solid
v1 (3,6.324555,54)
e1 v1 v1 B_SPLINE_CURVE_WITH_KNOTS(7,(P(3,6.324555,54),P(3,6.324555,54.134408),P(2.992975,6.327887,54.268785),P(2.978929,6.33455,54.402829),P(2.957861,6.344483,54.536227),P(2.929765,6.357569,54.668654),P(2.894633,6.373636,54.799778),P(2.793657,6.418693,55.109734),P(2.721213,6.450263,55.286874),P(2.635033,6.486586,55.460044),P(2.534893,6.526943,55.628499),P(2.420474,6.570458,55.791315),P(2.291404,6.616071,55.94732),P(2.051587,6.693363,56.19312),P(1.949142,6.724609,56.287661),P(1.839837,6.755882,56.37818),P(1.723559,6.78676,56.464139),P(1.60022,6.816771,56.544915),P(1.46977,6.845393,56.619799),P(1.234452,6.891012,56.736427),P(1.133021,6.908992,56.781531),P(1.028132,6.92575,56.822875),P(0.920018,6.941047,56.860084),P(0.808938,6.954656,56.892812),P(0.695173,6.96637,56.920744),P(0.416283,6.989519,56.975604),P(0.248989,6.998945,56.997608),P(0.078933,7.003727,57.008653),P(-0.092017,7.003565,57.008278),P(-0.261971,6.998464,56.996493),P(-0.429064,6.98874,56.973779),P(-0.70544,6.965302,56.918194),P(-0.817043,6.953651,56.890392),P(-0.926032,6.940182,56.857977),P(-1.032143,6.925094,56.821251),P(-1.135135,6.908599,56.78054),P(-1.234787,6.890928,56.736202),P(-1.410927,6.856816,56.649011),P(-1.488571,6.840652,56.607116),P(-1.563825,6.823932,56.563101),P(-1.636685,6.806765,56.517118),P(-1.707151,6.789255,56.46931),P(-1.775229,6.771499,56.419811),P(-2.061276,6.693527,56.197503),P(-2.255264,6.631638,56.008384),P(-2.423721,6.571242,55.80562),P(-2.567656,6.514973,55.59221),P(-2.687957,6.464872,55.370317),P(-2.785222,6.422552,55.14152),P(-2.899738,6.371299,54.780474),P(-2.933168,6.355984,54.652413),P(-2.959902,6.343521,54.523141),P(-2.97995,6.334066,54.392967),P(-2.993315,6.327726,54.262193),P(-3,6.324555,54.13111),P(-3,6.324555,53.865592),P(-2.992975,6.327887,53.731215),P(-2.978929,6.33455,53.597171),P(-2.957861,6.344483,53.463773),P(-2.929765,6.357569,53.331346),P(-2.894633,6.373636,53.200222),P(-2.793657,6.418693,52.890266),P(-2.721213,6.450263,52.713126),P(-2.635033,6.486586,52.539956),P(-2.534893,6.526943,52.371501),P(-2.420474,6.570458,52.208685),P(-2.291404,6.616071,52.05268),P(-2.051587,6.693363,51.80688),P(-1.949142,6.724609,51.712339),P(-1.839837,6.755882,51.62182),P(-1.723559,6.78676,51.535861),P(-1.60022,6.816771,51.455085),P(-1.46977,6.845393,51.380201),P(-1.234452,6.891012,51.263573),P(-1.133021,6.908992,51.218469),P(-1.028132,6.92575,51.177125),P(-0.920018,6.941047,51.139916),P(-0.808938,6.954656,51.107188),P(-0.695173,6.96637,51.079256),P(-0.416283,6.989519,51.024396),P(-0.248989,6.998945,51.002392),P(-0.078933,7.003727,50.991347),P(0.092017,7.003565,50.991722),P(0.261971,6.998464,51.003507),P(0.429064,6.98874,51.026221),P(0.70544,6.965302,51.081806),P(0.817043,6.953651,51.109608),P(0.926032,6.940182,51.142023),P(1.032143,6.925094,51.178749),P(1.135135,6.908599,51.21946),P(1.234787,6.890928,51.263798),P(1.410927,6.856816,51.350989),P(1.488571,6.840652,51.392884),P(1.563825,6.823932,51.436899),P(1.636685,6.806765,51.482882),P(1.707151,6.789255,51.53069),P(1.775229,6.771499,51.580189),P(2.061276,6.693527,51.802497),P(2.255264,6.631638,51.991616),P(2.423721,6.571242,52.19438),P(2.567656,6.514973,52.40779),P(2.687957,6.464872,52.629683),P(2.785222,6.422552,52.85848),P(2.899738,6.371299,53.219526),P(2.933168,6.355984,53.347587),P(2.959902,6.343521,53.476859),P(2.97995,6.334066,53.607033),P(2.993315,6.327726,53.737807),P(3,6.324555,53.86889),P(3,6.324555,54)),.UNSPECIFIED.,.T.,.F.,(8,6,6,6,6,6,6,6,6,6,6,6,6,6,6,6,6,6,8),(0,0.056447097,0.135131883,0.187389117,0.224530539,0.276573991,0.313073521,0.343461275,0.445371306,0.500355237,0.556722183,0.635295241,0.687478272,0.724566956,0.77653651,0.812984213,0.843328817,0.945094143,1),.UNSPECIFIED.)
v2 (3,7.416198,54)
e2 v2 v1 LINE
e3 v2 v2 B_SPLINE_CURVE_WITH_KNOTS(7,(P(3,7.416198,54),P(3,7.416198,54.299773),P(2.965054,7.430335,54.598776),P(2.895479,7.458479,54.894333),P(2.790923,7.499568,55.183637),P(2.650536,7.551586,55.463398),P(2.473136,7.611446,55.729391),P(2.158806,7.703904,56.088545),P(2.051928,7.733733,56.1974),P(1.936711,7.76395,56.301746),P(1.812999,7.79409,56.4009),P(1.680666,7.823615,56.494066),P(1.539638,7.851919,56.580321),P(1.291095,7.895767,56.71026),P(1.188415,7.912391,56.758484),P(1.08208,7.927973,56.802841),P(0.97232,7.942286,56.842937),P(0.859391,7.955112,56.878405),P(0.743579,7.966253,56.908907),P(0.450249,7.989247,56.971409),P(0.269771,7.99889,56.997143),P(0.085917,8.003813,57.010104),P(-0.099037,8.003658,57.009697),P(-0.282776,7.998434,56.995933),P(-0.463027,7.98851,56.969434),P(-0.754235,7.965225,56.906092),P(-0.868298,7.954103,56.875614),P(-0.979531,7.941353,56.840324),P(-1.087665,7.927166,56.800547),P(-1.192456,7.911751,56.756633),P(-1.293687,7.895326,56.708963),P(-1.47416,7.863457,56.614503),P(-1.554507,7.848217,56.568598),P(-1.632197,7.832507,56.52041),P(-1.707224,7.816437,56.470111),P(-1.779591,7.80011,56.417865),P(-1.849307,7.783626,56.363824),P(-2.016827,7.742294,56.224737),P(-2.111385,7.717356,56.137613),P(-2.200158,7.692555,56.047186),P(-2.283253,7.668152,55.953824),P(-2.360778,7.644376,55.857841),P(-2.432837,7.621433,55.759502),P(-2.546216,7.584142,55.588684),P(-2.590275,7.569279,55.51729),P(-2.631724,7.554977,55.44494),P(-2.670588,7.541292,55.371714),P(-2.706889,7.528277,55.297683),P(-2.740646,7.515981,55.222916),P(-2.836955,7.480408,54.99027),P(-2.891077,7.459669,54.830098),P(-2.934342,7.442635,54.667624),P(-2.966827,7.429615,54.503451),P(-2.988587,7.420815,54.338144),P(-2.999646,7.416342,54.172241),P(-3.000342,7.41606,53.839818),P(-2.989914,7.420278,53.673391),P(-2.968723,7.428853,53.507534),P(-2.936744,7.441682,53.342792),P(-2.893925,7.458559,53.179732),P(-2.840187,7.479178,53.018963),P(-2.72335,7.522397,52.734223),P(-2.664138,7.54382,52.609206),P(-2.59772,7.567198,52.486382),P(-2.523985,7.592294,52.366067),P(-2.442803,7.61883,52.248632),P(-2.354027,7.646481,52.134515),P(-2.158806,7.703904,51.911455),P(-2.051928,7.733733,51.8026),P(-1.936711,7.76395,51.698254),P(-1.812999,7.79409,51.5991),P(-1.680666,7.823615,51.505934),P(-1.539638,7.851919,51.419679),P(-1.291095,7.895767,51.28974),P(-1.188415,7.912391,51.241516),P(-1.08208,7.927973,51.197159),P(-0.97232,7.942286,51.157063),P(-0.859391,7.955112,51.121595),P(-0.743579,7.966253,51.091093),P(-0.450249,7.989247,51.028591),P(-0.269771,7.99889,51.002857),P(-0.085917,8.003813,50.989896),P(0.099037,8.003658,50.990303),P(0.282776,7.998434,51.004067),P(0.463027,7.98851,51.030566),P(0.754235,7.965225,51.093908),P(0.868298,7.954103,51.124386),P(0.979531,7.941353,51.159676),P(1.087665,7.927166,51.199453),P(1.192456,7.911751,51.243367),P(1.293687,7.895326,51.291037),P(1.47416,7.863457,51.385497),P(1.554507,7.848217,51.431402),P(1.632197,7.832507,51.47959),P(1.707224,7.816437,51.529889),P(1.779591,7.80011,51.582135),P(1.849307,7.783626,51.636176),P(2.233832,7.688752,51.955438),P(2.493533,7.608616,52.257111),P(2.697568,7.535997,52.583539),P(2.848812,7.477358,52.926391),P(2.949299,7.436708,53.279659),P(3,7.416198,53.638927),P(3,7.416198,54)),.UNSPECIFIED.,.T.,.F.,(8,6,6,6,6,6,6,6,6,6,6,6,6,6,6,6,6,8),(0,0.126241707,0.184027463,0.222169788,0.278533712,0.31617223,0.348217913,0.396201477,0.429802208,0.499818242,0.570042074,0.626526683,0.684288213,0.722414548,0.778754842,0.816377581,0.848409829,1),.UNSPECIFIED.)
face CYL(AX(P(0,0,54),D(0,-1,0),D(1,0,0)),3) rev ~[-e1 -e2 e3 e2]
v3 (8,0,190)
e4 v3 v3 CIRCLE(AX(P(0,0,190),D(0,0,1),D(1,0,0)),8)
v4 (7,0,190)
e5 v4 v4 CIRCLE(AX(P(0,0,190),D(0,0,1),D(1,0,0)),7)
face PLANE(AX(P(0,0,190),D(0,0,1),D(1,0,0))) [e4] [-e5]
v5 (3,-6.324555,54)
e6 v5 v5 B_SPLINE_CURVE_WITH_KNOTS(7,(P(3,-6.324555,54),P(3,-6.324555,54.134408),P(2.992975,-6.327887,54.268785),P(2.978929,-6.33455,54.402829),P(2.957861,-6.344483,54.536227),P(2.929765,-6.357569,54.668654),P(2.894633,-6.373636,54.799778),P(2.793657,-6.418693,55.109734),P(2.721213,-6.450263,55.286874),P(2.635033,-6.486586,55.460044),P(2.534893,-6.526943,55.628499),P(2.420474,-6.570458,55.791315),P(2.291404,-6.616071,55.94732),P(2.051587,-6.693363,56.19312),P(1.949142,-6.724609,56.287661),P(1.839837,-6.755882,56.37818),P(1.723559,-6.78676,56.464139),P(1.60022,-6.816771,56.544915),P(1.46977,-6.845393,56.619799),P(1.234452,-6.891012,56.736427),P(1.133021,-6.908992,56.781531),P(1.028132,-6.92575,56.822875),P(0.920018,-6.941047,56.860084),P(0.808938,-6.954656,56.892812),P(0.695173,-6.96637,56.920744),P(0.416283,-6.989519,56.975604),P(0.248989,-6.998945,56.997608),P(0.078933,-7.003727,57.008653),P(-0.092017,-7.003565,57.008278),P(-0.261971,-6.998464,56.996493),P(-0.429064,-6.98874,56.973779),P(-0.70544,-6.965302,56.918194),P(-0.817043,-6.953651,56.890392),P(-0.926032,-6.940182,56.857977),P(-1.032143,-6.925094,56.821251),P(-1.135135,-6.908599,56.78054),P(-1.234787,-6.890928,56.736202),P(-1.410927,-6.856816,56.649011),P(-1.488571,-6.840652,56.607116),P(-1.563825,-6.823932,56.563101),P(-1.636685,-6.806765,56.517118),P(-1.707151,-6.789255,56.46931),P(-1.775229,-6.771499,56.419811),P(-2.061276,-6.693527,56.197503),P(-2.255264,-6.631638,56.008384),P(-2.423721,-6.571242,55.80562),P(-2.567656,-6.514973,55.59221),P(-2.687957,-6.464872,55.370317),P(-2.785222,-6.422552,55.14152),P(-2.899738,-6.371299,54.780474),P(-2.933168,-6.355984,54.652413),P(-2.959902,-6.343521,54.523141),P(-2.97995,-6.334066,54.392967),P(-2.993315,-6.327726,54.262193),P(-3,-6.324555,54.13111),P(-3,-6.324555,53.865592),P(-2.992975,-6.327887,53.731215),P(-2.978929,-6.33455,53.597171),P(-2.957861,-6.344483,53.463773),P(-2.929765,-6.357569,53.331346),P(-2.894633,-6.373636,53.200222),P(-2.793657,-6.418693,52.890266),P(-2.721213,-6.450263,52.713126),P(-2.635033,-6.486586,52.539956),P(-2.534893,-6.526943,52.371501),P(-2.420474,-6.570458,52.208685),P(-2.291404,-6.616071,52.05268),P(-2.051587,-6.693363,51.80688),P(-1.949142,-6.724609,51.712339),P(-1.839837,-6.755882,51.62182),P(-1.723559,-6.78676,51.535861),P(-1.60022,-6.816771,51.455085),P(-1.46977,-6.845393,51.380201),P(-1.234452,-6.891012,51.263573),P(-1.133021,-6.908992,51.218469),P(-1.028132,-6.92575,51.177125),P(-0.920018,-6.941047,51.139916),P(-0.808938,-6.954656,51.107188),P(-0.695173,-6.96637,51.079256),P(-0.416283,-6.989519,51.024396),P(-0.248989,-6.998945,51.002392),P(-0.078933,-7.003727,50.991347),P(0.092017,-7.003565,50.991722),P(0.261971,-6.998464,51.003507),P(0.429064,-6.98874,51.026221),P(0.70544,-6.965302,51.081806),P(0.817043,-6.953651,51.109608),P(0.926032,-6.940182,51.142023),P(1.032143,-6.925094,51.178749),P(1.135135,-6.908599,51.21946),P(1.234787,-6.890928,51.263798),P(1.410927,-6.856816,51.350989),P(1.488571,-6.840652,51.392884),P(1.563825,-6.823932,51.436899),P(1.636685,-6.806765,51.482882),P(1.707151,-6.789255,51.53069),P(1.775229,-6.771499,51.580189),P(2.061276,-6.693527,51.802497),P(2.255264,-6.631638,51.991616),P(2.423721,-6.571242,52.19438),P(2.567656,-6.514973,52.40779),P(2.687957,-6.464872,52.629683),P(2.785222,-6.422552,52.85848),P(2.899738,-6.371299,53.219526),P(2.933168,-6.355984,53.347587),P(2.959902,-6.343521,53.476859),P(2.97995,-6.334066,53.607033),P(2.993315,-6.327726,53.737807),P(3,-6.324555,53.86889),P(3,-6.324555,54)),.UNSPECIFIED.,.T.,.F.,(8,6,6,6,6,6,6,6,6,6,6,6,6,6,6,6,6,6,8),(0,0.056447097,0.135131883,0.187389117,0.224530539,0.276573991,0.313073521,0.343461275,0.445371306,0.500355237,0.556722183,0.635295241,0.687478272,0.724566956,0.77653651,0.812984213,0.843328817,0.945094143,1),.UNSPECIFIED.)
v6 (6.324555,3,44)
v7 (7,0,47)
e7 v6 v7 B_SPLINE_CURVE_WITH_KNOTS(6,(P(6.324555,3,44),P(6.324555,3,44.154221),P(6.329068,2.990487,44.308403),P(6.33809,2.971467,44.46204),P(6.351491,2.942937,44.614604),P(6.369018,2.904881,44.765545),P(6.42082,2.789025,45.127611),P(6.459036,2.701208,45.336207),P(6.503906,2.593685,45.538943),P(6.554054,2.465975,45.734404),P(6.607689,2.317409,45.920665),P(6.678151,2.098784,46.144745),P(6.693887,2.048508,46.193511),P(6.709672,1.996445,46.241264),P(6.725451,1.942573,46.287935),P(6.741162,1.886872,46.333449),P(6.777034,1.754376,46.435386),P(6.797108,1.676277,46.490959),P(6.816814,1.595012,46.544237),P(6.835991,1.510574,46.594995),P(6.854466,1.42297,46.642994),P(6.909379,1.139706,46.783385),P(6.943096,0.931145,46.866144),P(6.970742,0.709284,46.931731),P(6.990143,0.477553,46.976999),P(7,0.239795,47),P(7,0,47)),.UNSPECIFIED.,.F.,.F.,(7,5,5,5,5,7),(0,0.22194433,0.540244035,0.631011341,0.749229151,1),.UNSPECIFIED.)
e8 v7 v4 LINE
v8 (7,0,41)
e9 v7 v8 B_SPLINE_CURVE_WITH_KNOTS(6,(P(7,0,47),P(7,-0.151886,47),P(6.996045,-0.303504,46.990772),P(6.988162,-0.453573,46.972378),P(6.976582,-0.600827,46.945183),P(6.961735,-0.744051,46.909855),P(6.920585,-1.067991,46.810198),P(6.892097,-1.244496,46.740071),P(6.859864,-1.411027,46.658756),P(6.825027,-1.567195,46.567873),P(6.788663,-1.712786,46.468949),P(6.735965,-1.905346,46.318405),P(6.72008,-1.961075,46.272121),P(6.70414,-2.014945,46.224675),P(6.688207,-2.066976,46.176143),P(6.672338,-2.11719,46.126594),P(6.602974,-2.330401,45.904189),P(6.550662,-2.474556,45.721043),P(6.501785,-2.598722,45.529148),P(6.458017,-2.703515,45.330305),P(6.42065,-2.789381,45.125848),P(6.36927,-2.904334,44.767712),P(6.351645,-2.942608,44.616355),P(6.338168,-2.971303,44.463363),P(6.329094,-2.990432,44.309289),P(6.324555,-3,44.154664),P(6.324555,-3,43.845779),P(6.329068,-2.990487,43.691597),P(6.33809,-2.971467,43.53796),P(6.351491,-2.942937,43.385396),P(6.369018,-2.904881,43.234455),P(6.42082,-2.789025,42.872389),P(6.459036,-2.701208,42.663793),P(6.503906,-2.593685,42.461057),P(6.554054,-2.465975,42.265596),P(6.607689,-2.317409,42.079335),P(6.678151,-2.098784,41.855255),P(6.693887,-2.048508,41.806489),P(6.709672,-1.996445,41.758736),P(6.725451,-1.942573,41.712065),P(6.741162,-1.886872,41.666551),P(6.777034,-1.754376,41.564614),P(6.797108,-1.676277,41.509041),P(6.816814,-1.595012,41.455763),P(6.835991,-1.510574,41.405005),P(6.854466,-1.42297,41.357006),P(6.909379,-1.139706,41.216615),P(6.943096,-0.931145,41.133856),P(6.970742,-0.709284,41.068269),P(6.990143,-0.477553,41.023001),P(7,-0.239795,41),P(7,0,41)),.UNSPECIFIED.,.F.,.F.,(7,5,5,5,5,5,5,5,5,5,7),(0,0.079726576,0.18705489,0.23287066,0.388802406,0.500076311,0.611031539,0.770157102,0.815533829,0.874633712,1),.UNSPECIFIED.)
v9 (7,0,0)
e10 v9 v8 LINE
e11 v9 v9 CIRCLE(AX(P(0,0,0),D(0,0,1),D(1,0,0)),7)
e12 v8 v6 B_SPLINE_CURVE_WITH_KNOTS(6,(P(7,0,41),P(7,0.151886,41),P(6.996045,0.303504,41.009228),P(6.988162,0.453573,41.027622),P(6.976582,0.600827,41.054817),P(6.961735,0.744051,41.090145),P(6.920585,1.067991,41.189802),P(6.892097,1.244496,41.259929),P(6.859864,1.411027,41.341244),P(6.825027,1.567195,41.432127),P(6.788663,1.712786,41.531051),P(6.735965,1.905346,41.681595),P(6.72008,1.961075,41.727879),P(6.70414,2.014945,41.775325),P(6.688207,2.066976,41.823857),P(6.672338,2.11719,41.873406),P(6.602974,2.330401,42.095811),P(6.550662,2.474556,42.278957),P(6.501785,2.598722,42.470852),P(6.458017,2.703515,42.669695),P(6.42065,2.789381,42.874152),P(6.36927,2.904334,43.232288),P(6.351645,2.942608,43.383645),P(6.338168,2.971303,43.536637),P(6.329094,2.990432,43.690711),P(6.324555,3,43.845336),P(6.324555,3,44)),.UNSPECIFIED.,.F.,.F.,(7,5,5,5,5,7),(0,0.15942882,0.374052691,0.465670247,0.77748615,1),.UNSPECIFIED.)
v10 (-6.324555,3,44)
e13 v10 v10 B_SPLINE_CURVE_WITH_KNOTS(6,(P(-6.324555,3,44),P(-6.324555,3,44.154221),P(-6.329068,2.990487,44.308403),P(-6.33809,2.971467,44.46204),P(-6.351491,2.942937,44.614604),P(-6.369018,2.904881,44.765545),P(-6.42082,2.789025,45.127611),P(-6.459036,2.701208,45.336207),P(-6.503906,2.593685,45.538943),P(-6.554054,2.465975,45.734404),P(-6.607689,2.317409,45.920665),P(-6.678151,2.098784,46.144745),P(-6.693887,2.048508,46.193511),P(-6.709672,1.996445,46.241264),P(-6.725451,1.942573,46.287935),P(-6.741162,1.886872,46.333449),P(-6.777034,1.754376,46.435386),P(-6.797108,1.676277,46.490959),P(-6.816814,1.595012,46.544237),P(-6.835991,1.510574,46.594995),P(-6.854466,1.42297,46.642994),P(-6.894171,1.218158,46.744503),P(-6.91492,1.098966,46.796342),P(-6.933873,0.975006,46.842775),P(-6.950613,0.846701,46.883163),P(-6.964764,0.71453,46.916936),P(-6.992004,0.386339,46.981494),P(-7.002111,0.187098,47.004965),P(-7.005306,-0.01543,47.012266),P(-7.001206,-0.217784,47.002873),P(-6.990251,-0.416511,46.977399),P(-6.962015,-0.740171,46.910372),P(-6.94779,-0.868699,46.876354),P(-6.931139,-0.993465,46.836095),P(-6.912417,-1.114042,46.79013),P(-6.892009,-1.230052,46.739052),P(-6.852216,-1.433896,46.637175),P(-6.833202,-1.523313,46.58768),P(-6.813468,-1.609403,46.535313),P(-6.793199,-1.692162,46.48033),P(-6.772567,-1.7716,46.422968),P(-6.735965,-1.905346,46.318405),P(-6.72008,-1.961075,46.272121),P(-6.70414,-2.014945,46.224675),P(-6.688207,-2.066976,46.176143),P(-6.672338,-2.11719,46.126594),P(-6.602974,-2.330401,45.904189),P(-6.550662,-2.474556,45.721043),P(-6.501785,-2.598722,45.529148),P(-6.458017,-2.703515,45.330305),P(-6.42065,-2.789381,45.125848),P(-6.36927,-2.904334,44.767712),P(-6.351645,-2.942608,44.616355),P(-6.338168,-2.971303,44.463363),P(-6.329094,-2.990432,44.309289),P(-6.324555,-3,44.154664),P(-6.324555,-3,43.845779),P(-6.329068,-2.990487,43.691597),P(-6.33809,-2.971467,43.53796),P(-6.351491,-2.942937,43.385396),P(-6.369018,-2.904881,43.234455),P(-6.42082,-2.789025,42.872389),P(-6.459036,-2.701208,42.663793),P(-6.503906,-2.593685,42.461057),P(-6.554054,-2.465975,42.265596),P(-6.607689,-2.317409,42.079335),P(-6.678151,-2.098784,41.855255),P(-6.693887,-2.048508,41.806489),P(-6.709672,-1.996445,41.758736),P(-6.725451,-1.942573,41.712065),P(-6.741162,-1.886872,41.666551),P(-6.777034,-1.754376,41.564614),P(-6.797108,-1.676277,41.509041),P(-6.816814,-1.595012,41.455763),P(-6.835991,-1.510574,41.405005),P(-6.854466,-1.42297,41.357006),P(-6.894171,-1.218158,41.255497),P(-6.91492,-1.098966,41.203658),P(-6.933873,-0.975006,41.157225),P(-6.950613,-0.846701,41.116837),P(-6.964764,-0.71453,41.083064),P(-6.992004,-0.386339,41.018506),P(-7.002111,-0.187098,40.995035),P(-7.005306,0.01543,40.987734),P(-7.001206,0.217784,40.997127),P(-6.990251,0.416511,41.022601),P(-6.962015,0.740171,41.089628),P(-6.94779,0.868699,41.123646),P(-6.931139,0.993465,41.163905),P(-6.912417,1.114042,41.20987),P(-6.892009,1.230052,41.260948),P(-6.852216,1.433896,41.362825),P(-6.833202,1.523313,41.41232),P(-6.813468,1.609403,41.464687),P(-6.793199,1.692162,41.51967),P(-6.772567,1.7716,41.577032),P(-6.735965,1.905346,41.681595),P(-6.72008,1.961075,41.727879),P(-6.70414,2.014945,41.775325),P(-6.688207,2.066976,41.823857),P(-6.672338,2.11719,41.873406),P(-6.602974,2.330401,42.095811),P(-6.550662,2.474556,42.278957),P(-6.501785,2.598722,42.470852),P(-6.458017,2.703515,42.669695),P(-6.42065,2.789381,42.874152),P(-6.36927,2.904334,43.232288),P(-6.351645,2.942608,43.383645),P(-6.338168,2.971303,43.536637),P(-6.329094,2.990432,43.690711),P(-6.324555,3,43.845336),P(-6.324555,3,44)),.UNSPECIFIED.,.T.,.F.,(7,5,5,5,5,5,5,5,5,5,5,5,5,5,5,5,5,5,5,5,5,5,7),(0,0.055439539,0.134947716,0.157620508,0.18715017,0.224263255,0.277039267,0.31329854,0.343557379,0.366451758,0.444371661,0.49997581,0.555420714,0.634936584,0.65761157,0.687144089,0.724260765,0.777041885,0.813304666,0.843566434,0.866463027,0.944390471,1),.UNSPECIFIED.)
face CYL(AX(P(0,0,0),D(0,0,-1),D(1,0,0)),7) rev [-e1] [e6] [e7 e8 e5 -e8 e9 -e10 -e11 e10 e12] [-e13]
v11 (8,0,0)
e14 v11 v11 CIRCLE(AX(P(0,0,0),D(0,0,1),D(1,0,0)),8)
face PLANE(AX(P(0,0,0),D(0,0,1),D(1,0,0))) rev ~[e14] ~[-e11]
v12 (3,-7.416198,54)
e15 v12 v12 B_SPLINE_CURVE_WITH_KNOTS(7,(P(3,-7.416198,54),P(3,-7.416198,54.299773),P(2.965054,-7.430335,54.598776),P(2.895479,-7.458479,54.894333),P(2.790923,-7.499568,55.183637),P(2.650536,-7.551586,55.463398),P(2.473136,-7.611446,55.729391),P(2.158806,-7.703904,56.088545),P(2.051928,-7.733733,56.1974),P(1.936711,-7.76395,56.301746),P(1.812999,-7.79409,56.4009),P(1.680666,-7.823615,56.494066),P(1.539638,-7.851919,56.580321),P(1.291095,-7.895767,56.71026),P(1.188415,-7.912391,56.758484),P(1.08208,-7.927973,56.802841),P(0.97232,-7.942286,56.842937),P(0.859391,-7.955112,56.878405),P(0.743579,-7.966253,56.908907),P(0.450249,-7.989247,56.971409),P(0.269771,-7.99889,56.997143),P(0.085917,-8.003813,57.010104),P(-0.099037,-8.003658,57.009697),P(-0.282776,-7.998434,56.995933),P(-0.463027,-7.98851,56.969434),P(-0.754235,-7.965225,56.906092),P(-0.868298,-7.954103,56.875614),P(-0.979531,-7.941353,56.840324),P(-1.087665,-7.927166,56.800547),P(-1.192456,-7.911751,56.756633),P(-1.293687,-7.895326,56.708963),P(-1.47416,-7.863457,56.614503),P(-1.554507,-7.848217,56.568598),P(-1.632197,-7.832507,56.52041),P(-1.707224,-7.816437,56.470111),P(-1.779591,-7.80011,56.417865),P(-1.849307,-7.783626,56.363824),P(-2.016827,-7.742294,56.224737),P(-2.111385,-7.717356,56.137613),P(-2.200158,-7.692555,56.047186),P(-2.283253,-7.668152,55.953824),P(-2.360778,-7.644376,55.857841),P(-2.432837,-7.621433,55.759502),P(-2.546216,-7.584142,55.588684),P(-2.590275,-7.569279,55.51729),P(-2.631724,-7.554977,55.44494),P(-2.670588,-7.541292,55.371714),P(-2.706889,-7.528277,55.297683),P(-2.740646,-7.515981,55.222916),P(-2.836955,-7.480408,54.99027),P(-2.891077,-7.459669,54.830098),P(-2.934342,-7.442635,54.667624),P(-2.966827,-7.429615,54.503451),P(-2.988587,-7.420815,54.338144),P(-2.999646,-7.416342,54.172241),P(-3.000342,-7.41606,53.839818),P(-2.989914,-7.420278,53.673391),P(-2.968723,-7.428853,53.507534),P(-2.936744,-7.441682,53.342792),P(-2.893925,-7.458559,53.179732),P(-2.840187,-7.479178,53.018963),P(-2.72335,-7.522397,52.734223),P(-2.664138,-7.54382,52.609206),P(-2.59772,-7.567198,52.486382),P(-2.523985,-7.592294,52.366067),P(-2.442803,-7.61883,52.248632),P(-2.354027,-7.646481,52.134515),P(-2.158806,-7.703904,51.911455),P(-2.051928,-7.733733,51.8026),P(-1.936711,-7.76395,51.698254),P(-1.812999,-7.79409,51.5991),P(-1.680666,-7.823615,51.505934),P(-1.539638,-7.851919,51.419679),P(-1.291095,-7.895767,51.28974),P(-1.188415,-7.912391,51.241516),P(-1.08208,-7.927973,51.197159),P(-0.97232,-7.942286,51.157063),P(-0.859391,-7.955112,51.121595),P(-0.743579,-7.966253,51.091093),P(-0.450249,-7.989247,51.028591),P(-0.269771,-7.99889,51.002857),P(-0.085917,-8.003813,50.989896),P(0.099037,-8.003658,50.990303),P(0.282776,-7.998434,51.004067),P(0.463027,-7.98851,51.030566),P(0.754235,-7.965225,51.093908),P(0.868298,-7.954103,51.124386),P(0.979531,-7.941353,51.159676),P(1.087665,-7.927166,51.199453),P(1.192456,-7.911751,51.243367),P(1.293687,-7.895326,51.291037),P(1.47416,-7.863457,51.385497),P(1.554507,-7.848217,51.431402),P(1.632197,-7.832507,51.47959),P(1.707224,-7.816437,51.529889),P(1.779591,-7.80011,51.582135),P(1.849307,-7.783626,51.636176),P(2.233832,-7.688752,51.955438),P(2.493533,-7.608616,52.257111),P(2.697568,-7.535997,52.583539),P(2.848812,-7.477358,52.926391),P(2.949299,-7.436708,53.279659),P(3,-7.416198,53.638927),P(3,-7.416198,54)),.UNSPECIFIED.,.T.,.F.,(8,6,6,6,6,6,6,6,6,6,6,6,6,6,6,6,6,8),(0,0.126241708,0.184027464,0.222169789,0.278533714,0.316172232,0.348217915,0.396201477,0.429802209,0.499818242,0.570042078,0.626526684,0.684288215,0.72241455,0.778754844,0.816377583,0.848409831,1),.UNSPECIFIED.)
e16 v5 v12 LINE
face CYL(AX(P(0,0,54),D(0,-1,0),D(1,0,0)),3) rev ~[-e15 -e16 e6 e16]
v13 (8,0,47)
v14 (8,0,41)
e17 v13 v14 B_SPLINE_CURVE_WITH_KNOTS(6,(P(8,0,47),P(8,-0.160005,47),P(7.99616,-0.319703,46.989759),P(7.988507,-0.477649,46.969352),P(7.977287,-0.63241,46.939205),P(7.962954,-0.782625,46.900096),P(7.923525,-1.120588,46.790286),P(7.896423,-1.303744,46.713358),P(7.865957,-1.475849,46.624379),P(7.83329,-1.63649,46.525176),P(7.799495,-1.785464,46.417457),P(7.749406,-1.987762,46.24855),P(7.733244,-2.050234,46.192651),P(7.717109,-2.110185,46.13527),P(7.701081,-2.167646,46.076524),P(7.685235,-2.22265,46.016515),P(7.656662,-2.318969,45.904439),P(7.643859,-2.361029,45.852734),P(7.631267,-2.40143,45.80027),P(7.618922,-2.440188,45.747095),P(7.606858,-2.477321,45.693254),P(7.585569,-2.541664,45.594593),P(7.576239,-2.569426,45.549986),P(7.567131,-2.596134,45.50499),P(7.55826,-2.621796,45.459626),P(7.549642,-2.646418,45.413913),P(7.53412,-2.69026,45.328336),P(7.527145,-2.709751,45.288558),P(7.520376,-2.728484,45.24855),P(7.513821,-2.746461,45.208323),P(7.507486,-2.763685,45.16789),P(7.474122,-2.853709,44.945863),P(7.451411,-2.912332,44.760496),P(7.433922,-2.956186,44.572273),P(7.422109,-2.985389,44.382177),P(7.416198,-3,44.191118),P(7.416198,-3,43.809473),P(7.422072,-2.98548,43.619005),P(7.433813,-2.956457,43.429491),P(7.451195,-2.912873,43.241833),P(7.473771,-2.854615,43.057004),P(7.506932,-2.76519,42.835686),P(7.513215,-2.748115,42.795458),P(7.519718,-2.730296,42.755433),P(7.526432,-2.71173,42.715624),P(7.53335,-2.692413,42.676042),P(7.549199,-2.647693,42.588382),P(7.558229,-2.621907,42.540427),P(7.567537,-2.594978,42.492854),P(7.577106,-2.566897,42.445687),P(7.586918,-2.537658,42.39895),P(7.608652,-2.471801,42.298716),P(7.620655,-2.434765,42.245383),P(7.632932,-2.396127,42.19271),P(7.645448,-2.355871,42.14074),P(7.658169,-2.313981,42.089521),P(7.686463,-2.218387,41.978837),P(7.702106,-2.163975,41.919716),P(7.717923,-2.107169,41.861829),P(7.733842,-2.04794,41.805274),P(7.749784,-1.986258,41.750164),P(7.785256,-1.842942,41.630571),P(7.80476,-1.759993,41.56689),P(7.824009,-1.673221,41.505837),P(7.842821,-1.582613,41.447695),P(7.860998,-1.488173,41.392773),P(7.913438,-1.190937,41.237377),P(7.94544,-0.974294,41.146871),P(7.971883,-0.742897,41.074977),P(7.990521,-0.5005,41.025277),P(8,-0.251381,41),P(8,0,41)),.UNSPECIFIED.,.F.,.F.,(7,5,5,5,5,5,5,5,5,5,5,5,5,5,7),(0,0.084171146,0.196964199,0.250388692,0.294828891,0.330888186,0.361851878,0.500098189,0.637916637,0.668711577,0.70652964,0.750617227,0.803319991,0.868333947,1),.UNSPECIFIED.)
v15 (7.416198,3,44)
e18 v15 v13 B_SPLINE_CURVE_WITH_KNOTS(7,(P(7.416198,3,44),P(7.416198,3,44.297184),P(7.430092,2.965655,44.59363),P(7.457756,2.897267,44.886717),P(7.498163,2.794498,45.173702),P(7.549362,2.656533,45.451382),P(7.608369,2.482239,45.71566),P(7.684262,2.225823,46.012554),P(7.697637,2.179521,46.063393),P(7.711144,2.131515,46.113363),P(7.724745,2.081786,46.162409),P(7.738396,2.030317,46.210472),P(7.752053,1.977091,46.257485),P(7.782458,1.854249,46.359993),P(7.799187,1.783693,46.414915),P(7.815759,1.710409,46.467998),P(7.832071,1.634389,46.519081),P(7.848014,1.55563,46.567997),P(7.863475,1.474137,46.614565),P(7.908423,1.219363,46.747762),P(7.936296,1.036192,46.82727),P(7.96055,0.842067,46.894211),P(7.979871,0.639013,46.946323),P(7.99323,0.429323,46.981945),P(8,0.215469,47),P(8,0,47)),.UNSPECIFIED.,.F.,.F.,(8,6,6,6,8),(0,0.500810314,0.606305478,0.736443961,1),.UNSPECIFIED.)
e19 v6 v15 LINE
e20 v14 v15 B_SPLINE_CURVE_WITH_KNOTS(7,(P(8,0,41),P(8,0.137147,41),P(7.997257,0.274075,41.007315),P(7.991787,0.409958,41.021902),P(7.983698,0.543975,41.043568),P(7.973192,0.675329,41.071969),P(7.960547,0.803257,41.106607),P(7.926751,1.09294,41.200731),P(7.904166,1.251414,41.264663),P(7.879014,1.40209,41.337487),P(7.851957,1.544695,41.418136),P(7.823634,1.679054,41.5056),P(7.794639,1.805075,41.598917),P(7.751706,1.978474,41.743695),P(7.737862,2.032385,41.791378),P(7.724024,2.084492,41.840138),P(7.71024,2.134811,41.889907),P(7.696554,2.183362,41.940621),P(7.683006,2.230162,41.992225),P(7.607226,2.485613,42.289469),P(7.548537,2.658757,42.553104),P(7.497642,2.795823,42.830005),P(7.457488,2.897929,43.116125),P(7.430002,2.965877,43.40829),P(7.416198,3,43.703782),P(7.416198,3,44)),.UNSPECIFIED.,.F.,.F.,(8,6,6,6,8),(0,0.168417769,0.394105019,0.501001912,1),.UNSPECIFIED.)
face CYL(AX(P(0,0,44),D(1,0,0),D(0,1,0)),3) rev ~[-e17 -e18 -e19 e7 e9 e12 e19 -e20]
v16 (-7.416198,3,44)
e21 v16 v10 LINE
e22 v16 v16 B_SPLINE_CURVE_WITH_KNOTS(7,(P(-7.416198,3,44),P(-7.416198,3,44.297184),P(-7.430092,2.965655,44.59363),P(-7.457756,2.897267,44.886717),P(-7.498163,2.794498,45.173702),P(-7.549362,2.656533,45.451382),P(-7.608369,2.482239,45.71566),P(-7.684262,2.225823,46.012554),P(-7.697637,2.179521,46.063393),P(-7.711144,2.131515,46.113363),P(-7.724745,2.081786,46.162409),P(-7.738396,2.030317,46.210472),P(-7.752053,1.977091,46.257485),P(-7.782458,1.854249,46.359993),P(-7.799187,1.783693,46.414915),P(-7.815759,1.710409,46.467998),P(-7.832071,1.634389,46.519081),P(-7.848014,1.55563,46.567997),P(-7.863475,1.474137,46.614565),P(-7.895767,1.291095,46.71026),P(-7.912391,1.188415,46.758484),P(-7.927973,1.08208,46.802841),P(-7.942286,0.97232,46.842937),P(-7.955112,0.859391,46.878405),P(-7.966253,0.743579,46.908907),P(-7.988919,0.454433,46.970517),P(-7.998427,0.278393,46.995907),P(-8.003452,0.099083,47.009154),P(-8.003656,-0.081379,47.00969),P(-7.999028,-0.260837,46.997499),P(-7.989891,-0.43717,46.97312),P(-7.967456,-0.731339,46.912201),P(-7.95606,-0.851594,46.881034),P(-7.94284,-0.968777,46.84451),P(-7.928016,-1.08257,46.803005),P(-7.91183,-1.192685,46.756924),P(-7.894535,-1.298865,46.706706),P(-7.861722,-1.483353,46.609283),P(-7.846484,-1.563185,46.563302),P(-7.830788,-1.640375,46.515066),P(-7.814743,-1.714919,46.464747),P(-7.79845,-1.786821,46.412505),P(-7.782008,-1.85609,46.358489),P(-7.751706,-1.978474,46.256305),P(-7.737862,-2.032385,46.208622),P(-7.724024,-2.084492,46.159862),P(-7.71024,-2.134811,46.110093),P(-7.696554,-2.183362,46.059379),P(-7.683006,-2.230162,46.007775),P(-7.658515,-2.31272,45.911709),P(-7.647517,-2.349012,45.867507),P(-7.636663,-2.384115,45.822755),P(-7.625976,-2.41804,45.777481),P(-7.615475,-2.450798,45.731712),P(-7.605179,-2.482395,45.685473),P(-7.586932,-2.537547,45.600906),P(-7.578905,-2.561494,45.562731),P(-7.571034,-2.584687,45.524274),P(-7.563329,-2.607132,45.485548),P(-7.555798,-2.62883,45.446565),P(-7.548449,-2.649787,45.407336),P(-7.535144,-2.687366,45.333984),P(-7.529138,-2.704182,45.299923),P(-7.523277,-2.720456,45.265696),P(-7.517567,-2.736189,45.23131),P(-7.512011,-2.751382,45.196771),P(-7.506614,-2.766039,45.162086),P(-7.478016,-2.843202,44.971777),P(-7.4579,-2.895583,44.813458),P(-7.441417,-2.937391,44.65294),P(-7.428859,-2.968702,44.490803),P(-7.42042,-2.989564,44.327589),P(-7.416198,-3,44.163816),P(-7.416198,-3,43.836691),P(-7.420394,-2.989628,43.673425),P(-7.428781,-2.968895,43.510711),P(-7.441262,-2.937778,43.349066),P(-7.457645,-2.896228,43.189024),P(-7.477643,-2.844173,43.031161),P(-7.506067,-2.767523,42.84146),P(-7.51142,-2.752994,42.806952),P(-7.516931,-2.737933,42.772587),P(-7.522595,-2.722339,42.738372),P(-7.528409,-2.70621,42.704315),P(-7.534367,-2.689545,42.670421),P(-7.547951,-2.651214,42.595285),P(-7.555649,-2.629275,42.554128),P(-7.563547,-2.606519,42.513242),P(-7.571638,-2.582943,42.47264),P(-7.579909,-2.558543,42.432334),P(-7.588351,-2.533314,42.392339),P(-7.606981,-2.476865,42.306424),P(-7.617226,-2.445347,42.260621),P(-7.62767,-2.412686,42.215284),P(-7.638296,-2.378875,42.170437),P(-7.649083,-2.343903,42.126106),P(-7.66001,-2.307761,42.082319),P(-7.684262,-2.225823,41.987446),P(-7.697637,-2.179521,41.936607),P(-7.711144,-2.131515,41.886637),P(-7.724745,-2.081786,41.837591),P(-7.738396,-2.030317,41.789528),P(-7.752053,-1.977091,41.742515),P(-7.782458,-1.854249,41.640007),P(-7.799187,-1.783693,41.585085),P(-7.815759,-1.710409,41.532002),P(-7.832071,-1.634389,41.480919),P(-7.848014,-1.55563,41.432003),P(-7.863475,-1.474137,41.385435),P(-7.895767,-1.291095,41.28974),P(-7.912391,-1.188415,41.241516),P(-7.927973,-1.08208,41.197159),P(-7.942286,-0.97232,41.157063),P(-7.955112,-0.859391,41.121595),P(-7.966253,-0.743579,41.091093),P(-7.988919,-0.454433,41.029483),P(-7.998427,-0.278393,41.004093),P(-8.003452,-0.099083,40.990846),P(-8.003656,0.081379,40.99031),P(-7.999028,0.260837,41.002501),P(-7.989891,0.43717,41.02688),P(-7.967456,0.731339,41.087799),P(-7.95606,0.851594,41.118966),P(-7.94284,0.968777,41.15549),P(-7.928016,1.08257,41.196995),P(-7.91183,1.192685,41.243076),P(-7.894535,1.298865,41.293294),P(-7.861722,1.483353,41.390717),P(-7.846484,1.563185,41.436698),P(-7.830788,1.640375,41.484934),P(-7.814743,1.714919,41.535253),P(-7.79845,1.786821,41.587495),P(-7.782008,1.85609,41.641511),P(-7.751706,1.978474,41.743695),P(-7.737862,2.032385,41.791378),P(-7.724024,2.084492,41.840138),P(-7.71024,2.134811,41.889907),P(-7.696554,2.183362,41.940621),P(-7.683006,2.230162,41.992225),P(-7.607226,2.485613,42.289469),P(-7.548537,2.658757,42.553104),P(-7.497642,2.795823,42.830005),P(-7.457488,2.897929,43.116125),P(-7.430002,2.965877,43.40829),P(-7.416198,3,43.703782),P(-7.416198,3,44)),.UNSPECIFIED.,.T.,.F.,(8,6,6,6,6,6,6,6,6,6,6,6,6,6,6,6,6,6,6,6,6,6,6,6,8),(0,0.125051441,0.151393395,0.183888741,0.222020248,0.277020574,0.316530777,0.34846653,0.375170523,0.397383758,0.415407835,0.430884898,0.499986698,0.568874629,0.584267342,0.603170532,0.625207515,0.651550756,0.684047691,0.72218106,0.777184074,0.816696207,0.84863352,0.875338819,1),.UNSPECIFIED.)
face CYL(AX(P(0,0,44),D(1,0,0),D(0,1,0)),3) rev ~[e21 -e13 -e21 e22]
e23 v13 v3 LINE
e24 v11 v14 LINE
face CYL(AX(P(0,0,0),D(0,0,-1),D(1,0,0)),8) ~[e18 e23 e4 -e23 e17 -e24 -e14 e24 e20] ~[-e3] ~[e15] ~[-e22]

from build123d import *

# Parameters (mm, degrees)
F0_R     = 8
F0_R_2   = 7
F1_DEPTH = 190
F2_R     = 3
F3_DEPTH = 20
F4_R     = 3
F5_DEPTH = 12.5


with BuildPart() as f1:
    # F0 (on Top) → F1 (new body)
    with BuildSketch(Plane.XY):
        Circle(F0_R)
        Circle(F0_R_2, mode=Mode.SUBTRACT)
    extrude(amount=F1_DEPTH)

    # F2 (on Right) → F3 (cut, symmetric)
    with BuildSketch(Plane.YZ):
        with Locations((0, 44)):
            Circle(F2_R)
    extrude(amount=F3_DEPTH, both=True, mode=Mode.SUBTRACT)

    # F4 (on Front) → F5 (cut, symmetric)
    with BuildSketch(Plane.XZ):
        with Locations((0, 54)):
            Circle(F4_R)
    extrude(amount=F5_DEPTH, both=True, mode=Mode.SUBTRACT)


solid = f1.part
